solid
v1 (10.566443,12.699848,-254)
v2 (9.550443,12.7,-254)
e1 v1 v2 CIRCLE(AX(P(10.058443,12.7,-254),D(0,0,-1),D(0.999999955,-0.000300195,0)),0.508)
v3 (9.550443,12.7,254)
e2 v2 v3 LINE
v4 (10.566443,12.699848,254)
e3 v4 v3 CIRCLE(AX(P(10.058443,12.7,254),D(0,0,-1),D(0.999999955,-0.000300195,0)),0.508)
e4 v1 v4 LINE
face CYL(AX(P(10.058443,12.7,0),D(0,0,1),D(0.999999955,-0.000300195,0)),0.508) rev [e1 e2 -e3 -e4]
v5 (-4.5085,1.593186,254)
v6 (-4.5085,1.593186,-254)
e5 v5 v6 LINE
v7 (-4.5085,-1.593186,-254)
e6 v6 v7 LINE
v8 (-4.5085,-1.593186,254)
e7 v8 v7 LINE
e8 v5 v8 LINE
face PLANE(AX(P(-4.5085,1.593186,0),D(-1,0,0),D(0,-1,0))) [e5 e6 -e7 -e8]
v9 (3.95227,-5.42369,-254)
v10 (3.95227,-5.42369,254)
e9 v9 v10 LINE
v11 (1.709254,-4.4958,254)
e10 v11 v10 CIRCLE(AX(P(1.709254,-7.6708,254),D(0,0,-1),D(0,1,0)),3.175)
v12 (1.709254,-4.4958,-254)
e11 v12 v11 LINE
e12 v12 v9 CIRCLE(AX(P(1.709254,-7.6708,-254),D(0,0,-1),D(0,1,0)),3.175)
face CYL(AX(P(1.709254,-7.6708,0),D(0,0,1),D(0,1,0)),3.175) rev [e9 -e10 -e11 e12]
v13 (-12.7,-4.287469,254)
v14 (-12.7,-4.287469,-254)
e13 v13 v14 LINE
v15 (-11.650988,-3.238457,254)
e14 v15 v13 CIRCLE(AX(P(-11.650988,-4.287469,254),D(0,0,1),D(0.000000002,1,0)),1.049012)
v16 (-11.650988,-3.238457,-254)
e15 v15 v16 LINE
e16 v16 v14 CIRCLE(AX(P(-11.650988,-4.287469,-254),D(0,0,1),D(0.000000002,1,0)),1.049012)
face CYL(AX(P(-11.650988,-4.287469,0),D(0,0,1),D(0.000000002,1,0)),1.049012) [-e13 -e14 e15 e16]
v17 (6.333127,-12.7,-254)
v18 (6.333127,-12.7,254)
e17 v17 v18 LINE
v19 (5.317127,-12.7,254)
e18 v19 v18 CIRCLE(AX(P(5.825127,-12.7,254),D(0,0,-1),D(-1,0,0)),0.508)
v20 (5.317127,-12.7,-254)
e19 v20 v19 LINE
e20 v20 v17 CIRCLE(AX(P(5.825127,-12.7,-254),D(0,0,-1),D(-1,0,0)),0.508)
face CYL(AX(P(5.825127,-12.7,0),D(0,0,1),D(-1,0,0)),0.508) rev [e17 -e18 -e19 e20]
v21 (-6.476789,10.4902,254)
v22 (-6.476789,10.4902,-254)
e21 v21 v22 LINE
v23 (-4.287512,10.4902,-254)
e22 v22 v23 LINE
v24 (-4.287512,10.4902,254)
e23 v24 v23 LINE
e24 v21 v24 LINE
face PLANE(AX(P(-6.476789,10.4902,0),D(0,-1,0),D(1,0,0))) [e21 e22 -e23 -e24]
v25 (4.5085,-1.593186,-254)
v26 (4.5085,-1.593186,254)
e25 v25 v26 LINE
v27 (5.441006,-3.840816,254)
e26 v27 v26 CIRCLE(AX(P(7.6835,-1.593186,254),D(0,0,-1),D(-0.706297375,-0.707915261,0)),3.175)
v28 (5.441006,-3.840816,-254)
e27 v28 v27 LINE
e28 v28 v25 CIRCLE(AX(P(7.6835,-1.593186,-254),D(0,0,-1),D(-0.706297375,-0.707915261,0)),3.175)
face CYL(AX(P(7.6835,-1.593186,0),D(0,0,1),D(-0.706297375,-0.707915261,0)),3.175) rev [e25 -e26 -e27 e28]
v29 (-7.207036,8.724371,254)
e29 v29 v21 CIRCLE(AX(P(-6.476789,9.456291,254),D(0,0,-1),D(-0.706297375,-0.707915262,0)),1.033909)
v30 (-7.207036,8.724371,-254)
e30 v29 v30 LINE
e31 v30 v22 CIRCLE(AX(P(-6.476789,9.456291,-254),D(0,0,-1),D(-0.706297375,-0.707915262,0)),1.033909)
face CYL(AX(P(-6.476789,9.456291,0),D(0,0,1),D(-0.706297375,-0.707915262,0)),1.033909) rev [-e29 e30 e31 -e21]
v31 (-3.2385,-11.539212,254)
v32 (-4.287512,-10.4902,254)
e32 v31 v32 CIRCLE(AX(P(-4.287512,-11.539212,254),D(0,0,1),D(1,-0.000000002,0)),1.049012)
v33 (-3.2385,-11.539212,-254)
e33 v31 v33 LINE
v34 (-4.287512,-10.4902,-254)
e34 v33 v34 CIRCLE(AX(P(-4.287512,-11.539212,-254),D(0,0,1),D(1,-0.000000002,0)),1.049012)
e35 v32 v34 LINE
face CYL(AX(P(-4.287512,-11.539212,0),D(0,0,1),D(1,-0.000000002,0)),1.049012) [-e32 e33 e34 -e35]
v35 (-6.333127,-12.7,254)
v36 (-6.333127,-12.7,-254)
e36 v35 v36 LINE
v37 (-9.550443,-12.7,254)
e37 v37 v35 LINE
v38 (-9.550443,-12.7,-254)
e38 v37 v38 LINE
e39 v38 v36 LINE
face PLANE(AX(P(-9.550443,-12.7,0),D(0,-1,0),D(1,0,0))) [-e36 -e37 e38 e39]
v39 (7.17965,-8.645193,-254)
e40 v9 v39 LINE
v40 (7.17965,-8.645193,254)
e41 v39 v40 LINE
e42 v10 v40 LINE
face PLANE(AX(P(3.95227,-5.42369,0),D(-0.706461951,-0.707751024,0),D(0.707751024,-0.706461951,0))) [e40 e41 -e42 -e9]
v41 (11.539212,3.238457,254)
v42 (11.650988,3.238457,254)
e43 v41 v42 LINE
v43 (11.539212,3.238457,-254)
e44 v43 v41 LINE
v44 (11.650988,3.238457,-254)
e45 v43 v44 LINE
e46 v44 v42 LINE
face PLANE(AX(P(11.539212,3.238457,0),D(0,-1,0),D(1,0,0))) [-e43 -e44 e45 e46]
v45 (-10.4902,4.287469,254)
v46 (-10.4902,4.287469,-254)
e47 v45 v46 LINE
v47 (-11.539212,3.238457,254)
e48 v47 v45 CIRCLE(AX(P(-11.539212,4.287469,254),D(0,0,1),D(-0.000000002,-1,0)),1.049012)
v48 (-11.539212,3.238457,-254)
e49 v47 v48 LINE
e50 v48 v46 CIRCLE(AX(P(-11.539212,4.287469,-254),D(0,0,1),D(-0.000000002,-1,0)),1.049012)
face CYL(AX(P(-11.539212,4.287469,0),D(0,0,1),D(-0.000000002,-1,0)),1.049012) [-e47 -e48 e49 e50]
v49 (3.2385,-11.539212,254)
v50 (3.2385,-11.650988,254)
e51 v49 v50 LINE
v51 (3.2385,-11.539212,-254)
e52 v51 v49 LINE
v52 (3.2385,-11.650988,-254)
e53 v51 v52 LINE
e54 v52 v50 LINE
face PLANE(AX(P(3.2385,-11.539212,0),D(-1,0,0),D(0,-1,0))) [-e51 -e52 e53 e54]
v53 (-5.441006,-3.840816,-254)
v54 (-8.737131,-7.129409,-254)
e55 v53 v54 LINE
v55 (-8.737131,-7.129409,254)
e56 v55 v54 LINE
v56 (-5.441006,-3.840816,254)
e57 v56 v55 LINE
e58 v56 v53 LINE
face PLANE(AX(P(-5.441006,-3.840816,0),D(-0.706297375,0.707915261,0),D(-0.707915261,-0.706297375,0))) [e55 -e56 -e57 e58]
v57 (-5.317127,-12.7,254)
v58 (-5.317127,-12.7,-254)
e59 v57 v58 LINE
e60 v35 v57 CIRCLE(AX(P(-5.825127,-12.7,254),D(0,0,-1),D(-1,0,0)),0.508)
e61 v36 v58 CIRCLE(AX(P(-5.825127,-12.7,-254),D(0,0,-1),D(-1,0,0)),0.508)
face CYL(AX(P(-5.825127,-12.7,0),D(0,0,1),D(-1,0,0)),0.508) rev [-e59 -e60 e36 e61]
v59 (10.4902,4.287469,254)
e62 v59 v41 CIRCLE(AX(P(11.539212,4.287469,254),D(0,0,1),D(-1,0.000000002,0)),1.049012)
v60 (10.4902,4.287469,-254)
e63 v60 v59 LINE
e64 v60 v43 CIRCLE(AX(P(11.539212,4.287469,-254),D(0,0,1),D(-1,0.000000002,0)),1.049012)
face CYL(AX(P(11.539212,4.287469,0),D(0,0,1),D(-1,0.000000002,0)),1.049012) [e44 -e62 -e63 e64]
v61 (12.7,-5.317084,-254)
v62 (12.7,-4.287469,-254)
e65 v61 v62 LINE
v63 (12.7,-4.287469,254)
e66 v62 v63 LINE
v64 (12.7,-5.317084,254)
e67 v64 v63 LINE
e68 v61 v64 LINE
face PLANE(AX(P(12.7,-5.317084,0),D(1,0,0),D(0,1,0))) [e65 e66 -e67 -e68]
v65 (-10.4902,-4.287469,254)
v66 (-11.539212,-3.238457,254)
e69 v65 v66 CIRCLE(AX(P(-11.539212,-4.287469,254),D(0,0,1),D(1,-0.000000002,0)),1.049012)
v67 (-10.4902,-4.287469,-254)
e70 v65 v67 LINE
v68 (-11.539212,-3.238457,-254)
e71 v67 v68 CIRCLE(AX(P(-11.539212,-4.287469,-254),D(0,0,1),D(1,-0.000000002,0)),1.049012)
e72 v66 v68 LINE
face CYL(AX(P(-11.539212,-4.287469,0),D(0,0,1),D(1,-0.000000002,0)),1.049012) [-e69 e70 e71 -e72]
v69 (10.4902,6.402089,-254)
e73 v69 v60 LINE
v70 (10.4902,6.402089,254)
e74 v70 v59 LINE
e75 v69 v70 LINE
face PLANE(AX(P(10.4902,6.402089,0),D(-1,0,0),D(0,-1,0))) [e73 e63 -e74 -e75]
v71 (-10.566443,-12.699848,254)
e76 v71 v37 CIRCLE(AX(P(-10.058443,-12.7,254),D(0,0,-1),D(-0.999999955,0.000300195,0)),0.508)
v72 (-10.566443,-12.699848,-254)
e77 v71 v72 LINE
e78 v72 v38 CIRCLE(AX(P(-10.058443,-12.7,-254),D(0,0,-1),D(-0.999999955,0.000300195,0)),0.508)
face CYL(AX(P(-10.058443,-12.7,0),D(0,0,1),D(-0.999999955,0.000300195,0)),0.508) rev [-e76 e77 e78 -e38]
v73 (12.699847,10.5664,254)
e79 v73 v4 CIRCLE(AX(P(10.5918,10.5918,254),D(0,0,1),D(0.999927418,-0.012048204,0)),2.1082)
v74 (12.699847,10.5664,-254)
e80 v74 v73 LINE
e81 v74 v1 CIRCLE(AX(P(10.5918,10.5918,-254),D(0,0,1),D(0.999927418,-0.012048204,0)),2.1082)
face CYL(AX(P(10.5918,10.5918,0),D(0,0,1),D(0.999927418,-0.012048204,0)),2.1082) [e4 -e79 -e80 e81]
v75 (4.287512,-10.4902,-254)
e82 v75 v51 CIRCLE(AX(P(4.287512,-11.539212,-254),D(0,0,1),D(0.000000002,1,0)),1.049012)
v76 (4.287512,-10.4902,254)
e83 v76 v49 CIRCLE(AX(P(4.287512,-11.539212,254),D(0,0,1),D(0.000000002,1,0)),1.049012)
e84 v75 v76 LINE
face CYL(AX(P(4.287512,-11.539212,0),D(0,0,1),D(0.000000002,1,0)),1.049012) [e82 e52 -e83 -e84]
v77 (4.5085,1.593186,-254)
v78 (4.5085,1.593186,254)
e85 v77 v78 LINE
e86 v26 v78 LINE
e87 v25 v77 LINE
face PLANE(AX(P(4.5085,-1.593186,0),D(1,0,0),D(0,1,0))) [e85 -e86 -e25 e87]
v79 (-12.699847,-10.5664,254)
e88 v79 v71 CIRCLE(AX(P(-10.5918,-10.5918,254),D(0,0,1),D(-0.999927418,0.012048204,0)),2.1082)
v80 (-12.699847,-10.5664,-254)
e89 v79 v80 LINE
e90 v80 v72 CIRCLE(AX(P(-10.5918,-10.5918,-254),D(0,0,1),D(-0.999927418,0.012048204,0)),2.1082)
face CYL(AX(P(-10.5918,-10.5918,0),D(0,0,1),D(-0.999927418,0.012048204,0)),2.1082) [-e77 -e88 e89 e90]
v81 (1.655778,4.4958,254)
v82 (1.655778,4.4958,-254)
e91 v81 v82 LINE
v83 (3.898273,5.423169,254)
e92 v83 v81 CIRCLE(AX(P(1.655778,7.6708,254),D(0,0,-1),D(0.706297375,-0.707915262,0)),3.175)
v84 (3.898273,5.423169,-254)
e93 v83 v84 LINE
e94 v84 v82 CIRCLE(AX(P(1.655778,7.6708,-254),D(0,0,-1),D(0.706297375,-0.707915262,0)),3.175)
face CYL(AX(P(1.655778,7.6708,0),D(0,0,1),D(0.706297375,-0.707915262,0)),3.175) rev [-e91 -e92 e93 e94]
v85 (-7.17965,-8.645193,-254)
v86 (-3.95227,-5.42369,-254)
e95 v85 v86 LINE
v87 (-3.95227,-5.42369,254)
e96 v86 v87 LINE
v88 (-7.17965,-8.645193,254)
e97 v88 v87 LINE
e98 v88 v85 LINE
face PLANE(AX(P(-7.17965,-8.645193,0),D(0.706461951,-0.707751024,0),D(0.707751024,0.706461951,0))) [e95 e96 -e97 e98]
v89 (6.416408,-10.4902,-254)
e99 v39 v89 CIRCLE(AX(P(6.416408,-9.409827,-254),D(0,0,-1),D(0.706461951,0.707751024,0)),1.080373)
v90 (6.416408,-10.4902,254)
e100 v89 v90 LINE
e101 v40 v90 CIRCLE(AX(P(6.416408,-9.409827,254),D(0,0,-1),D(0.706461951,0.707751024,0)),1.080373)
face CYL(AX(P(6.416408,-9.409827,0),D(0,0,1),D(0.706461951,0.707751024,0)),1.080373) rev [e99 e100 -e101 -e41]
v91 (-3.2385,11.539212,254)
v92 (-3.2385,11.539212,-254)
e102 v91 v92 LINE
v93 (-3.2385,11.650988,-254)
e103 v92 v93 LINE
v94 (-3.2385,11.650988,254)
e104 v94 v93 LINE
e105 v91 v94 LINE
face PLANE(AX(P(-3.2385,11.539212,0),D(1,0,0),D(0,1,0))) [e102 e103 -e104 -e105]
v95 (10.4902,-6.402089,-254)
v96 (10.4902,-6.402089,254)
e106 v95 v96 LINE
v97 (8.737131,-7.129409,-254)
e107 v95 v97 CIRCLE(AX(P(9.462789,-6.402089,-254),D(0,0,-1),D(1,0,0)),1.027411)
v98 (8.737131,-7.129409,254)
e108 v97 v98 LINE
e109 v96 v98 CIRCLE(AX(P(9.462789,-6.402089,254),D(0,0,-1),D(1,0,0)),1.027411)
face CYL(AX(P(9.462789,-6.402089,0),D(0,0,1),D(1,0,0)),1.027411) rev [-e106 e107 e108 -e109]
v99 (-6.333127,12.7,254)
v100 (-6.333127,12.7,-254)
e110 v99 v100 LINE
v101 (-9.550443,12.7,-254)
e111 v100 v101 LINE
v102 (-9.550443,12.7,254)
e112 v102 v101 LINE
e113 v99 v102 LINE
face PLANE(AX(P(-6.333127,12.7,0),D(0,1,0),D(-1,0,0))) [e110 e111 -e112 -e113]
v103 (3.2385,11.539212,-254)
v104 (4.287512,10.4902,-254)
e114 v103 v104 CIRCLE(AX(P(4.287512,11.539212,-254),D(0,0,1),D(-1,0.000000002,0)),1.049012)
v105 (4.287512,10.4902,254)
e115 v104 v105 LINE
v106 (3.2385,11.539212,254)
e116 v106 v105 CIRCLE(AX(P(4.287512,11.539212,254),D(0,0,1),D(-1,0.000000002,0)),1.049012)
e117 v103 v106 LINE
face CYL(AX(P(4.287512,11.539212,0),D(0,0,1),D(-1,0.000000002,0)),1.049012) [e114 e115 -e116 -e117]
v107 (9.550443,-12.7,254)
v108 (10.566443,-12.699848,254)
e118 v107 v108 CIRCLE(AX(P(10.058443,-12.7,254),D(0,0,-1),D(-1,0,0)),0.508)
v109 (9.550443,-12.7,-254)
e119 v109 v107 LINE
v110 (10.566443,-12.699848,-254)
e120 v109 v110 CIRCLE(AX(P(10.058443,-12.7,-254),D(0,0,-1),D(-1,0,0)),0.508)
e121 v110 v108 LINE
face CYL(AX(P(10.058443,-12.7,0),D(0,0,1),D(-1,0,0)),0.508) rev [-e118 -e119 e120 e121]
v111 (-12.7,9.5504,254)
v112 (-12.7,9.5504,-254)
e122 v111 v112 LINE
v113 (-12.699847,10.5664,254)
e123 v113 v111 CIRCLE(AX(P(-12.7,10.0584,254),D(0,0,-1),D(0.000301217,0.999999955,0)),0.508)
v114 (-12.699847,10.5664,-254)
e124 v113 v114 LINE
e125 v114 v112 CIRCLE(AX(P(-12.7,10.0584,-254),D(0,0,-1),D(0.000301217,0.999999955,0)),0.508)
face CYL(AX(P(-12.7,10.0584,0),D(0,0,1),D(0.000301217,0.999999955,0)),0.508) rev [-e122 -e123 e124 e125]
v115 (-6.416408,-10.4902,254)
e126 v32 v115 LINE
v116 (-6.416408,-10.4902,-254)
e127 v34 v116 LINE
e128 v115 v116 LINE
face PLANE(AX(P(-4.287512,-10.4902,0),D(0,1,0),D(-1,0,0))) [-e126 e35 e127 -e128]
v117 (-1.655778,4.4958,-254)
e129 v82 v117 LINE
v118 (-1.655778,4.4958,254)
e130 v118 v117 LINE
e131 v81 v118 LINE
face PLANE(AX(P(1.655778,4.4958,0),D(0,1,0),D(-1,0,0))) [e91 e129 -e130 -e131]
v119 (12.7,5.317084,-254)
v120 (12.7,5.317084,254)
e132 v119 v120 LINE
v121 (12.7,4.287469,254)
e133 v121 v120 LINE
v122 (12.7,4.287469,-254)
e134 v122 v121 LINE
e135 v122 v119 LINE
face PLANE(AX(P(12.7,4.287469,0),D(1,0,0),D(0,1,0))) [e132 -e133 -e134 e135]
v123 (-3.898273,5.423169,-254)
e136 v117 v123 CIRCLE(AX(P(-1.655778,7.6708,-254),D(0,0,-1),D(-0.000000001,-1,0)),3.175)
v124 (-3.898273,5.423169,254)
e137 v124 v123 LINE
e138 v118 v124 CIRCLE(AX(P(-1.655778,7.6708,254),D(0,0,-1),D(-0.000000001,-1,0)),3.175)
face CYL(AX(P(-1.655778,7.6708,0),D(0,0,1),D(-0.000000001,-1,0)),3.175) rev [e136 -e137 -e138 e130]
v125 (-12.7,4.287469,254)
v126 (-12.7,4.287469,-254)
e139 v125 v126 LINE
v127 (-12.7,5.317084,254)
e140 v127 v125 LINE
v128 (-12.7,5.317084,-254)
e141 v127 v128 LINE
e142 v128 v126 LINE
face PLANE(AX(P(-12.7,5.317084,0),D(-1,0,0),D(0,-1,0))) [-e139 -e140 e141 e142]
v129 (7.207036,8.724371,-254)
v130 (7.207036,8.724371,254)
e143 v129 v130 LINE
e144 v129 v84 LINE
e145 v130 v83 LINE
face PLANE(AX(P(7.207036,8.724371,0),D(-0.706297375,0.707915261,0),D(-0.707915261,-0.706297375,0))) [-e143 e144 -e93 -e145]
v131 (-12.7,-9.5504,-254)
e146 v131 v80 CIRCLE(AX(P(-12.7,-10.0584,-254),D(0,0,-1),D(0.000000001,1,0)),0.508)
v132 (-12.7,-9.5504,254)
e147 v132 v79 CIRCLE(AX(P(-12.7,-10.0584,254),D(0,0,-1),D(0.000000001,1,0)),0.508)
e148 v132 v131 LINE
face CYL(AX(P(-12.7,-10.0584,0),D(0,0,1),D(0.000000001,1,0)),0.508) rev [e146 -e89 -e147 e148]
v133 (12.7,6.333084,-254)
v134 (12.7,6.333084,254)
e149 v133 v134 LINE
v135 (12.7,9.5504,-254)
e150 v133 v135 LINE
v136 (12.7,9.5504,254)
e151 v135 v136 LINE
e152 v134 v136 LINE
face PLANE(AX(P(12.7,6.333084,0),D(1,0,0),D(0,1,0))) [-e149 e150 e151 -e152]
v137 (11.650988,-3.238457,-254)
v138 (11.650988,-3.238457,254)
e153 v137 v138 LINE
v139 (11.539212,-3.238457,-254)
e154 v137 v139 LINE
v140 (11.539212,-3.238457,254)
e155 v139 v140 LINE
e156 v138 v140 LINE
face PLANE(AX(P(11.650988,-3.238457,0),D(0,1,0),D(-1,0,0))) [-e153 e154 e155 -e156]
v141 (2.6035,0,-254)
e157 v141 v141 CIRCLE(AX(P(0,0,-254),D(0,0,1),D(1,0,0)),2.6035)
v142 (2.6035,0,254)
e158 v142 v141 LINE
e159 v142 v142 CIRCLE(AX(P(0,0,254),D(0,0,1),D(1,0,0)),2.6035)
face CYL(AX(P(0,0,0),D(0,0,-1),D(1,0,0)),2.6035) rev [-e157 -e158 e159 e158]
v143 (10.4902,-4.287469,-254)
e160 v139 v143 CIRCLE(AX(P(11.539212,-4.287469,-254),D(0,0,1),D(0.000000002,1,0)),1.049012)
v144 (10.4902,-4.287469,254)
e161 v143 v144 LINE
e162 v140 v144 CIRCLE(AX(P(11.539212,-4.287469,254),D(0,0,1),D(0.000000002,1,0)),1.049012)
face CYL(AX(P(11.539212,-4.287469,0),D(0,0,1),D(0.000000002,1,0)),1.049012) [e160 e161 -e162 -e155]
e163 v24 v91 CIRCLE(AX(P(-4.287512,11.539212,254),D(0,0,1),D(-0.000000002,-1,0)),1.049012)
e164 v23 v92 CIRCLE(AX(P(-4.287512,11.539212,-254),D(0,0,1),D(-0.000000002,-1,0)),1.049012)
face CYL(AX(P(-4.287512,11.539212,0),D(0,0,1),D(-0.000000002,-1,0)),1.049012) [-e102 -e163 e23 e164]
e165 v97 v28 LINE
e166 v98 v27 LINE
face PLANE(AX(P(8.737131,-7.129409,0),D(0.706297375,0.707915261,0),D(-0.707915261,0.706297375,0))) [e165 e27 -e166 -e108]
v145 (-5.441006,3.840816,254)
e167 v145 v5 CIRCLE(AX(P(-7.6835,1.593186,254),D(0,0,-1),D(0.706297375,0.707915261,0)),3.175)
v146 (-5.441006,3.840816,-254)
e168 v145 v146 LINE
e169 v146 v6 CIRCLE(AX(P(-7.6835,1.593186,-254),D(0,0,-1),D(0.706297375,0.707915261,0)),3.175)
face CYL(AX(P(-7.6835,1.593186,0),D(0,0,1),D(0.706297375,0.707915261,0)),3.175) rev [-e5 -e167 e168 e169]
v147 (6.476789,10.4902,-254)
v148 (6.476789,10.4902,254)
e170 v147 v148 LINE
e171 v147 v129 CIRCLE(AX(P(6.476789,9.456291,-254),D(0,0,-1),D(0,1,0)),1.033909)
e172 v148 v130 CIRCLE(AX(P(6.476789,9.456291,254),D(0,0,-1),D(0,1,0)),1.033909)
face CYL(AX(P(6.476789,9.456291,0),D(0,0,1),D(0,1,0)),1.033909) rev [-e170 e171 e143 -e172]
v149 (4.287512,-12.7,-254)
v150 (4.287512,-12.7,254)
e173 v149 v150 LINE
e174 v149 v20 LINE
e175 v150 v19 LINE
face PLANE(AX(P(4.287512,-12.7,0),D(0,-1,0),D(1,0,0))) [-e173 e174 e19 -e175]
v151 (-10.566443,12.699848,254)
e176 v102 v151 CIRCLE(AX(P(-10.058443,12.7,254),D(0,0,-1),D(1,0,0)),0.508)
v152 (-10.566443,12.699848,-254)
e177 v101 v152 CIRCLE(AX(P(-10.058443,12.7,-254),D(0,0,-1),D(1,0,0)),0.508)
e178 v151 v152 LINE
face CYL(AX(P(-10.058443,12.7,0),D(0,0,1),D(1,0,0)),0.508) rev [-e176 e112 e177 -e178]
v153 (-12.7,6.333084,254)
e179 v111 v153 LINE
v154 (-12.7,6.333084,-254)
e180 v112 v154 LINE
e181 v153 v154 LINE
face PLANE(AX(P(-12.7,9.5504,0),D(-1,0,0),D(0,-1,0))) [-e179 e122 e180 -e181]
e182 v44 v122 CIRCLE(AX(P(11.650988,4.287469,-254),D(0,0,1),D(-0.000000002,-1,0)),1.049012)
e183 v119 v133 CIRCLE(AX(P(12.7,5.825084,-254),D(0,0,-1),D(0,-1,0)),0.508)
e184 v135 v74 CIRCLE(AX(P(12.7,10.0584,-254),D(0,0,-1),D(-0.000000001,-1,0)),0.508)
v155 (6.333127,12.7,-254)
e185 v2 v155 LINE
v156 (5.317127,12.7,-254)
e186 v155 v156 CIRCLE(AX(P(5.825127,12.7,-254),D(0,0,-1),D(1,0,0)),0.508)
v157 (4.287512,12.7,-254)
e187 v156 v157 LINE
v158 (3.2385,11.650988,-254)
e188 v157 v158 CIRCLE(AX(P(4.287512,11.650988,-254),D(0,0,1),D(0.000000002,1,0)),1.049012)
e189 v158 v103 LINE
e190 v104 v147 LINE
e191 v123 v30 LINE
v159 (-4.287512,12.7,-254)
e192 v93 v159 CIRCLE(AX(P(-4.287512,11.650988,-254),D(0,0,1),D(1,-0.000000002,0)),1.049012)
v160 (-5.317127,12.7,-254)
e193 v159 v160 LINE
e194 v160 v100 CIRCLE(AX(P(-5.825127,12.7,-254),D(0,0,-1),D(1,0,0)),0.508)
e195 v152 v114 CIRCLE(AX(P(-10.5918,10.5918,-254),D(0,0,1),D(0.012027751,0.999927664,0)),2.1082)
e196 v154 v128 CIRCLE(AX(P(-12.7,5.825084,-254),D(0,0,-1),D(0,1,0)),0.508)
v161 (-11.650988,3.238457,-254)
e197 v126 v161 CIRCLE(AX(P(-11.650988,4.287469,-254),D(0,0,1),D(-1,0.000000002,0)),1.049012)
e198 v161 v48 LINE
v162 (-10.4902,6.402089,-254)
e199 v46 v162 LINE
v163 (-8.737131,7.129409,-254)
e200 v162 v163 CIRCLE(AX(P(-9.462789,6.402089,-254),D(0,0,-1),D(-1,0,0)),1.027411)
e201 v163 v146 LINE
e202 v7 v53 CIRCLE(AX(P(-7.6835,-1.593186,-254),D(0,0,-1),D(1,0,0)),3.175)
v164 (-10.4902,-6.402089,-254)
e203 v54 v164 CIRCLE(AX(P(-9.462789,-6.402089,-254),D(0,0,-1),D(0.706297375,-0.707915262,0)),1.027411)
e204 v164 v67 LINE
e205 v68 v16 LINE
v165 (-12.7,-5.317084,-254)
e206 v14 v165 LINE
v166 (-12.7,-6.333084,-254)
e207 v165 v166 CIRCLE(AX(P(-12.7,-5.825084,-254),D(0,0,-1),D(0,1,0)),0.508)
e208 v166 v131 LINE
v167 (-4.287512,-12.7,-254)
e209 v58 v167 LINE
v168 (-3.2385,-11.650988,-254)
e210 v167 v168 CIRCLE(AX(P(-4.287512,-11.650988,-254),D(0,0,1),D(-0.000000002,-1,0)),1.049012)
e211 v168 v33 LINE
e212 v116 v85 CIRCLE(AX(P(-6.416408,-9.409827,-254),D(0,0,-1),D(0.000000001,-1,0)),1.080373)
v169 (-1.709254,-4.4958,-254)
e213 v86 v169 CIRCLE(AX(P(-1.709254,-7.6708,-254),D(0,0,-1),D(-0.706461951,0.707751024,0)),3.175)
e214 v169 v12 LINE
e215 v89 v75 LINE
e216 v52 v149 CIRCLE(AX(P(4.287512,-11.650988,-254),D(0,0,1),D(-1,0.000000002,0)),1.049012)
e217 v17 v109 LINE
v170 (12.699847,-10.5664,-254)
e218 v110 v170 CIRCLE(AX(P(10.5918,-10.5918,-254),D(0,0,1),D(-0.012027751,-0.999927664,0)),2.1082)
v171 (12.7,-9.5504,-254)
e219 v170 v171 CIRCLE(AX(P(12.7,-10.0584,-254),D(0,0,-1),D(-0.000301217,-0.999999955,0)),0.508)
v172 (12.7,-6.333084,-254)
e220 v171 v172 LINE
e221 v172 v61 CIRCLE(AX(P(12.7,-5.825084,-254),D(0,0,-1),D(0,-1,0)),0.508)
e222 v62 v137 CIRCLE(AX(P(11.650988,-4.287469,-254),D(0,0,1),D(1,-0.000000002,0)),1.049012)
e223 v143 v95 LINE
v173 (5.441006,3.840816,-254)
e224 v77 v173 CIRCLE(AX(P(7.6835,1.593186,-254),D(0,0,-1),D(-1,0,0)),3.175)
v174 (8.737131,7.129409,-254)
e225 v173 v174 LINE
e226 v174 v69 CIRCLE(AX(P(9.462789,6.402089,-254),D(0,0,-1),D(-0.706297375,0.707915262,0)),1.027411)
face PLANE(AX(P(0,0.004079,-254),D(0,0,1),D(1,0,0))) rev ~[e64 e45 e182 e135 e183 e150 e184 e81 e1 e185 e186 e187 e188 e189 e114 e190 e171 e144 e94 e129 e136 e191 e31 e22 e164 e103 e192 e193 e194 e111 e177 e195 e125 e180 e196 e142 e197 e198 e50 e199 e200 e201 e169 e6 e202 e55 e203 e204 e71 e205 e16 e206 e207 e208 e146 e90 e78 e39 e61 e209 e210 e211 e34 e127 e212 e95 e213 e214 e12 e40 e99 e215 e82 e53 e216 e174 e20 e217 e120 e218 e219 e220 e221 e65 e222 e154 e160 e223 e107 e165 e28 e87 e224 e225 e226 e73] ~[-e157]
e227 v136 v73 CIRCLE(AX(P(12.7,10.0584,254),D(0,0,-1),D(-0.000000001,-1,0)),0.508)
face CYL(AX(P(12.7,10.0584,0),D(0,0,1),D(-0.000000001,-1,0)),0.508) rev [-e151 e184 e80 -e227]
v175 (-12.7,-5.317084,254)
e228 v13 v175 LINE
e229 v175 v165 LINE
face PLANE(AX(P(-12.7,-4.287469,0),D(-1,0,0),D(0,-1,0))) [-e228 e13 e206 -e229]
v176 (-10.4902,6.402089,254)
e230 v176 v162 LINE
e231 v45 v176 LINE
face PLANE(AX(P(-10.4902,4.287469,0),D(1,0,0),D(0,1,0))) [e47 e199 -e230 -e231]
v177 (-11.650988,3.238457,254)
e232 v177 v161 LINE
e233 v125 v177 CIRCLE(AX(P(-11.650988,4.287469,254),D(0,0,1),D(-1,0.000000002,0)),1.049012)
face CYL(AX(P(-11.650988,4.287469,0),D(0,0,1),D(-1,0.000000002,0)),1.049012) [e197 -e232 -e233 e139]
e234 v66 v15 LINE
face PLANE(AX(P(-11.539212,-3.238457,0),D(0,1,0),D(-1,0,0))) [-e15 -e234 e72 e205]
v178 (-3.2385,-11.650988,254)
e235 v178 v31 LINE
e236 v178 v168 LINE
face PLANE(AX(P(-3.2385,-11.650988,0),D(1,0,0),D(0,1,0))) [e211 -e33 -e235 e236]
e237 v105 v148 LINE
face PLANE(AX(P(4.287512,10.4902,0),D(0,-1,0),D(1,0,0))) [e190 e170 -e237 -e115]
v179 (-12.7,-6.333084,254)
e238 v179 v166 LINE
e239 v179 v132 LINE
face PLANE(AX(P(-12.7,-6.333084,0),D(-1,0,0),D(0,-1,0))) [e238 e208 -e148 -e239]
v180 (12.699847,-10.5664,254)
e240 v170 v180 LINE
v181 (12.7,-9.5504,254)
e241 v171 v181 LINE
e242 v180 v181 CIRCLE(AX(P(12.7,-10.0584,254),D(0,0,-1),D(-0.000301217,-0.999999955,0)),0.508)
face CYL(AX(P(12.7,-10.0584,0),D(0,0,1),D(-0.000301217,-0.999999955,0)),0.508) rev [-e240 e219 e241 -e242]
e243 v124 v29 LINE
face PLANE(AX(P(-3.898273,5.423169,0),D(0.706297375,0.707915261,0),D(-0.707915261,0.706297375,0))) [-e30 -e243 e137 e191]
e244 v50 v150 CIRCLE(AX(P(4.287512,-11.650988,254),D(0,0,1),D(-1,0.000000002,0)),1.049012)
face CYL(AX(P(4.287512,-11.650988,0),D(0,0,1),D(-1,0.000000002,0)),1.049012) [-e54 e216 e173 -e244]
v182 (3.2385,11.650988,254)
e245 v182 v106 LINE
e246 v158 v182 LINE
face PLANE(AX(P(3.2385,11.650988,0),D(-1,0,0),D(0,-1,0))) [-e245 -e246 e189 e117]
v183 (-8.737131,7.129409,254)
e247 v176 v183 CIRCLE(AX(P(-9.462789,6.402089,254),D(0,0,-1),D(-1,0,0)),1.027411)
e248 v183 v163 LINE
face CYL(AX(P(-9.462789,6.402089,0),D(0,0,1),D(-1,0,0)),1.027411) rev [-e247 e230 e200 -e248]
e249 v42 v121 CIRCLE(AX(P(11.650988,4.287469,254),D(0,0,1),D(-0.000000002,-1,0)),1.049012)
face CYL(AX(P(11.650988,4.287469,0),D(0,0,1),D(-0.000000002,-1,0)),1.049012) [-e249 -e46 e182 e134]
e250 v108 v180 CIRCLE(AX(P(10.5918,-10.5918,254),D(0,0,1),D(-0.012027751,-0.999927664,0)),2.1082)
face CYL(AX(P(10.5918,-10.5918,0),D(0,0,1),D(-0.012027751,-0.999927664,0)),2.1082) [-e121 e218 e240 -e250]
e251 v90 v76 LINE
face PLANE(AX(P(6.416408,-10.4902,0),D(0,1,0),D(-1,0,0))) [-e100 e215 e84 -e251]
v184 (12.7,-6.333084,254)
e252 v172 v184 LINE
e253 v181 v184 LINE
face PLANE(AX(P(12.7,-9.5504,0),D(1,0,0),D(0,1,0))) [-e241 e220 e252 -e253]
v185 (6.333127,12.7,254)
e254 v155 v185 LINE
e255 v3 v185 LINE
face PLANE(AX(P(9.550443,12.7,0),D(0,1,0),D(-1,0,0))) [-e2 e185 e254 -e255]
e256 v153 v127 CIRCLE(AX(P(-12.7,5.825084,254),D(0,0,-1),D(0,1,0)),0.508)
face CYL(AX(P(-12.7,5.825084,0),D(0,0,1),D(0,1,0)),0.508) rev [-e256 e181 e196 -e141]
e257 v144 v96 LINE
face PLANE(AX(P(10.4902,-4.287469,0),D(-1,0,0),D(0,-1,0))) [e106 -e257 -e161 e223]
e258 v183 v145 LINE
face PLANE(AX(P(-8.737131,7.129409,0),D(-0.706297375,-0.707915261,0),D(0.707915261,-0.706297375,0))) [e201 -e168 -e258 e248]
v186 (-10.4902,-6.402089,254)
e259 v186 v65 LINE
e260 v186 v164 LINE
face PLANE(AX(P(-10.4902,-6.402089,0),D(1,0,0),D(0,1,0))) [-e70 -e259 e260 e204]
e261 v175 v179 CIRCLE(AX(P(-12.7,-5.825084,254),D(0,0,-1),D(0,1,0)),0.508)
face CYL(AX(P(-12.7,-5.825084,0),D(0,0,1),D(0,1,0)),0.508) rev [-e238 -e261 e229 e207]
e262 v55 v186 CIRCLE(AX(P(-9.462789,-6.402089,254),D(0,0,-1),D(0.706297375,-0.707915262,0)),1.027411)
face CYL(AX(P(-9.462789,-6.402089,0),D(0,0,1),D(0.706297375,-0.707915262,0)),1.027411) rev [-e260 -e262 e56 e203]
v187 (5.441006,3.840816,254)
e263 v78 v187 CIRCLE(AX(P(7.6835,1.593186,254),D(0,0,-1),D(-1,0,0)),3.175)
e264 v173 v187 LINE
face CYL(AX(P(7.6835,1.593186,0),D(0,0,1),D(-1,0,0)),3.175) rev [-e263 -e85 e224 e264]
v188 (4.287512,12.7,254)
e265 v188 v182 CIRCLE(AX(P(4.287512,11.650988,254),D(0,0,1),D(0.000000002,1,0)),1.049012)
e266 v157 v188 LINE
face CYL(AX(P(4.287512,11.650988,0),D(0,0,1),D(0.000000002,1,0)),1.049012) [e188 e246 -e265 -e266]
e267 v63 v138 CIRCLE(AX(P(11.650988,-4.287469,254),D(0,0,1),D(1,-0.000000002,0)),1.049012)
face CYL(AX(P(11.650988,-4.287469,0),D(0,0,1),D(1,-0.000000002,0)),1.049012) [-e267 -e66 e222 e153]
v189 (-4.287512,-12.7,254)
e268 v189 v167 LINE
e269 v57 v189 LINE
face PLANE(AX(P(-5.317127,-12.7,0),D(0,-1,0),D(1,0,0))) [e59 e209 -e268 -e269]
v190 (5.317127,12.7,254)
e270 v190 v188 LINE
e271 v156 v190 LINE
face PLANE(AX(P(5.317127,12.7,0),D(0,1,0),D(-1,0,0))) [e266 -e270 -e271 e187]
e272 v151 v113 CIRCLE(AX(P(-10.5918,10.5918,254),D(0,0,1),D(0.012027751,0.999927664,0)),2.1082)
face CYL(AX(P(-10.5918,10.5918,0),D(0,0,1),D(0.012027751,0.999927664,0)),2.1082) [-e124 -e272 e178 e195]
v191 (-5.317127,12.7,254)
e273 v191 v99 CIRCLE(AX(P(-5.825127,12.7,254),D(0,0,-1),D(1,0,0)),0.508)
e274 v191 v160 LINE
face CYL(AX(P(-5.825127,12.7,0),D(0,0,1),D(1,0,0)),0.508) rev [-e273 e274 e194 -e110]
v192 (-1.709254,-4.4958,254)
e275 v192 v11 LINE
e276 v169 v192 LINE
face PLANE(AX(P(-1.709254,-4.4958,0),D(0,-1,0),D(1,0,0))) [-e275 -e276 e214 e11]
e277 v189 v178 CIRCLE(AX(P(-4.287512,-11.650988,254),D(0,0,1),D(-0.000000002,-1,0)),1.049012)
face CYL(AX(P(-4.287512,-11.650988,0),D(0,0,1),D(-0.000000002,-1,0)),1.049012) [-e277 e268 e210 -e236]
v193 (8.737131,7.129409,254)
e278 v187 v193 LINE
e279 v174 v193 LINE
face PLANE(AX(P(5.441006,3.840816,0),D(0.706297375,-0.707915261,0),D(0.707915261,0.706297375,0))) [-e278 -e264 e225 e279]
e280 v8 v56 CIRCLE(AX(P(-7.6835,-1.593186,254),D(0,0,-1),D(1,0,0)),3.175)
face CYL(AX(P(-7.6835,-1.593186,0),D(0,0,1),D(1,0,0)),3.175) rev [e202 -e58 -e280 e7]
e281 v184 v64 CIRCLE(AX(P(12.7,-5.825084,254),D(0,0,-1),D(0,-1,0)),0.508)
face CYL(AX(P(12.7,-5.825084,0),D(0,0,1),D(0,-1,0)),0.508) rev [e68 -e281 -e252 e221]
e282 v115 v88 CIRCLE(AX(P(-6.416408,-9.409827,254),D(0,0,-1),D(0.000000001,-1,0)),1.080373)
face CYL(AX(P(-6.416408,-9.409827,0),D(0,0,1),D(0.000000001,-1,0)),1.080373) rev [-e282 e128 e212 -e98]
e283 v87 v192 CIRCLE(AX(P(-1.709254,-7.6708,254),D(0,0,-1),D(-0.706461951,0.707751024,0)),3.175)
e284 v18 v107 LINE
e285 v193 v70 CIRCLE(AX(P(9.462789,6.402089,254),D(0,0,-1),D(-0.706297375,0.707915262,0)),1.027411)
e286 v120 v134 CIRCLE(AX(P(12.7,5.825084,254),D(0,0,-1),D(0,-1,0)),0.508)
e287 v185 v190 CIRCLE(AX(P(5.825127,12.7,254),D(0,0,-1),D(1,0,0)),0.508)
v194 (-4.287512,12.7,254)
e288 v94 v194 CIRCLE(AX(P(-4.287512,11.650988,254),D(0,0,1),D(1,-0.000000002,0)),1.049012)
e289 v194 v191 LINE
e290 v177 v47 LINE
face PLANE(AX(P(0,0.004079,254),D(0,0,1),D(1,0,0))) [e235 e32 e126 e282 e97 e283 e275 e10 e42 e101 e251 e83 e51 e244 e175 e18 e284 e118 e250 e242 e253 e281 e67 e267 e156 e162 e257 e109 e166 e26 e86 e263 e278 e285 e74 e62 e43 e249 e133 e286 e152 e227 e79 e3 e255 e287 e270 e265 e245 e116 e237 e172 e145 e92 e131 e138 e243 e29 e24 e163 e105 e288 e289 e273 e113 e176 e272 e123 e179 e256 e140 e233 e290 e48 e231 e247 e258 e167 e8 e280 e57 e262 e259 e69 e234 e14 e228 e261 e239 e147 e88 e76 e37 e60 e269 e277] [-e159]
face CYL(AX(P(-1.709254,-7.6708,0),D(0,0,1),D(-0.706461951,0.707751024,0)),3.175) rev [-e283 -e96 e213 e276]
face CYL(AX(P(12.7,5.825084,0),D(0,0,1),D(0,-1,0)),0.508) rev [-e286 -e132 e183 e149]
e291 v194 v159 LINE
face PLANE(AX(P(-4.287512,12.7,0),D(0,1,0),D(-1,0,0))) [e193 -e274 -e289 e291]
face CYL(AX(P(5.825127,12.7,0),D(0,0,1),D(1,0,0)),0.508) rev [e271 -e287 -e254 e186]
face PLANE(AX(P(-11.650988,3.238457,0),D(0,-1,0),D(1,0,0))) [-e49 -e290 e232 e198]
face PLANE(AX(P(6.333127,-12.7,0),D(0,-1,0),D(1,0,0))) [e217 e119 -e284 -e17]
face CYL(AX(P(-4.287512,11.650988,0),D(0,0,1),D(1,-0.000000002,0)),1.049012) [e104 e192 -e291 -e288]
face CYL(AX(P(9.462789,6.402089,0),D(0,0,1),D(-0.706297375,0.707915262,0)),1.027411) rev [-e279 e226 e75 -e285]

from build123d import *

# Parameters (mm, degrees)
SKETCH1_R           = 2.6035
BOSS_EXTRUDE1_DEPTH = 254


with BuildPart() as part:
    # Sketch1 → Boss-Extrude1 (new body, symmetric)
    with BuildSketch(Plane.XY):
        with BuildLine():
            Line((-7.179650497, -8.645192506), (-3.952270251, -5.423690499))
            ThreePointArc((-3.952270251, -5.423690499), (-2.922936451, -4.736929036), (-1.709253557, -4.4958))
            Line((-1.709253557, -4.4958), (1.709253557, -4.4958))
            ThreePointArc((1.709253557, -4.4958), (2.922936451, -4.736929036), (3.952270251, -5.423690499))
            Line((3.952270251, -5.423690499), (7.179650497, -8.645192506))
            ThreePointArc((7.179650497, -8.645192506), (7.41473083, -9.822813117), (6.416408329, -10.4902))
            Line((6.416408329, -10.4902), (4.287512407, -10.4902))
            ThreePointArc((4.287512407, -10.4902), (3.54574862, -10.79744862), (3.2385, -11.539212407))
            Line((3.2385, -11.539212407), (3.2385, -11.650987593))
            ThreePointArc((3.2385, -11.650987593), (3.54574862, -12.39275138), (4.287512407, -12.7))
            Line((4.287512407, -12.7), (5.317126718, -12.7))
            ThreePointArc((5.317126718, -12.7), (5.825126718, -12.192), (6.333126718, -12.7))
            Line((6.333126718, -12.7), (9.550443118, -12.7))
            ThreePointArc((9.550443118, -12.7), (10.058366869, -12.192000006), (10.566443095, -12.699847501))
            ThreePointArc((10.566443095, -12.699847501), (12.082537762, -12.08250727), (12.699846982, -10.566399977))
            ThreePointArc((12.699846982, -10.566399977), (12.192000006, -10.058323491), (12.7, -9.5504))
            Line((12.7, -9.5504), (12.7, -6.3330836))
            ThreePointArc((12.7, -6.3330836), (12.192, -5.8250836), (12.7, -5.3170836))
            Line((12.7, -5.3170836), (12.7, -4.287469289))
            ThreePointArc((12.7, -4.287469289), (12.39275138, -3.545705502), (11.650987593, -3.238456882))
            Line((11.650987593, -3.238456882), (11.539212407, -3.238456882))
            ThreePointArc((11.539212407, -3.238456882), (10.79744862, -3.545705502), (10.4902, -4.287469289))
            Line((10.4902, -4.287469289), (10.4902, -6.402089023))
            ThreePointArc((10.4902, -6.402089023), (9.856505071, -7.351067942), (8.737131347, -7.129408934))
            Line((8.737131347, -7.129408934), (5.441005833, -3.840816462))
            ThreePointArc((5.441005833, -3.840816462), (4.750877967, -2.809883091), (4.5085, -1.593185507))
            Line((4.5085, -1.593185507), (4.5085, 1.593185507))
            ThreePointArc((4.5085, 1.593185507), (4.750877967, 2.809883091), (5.441005833, 3.840816462))
            Line((5.441005833, 3.840816462), (8.737131347, 7.129408934))
            ThreePointArc((8.737131347, 7.129408934), (9.856505071, 7.351067942), (10.4902, 6.402089023))
            Line((10.4902, 6.402089023), (10.4902, 4.287469289))
            ThreePointArc((10.4902, 4.287469289), (10.79744862, 3.545705502), (11.539212407, 3.238456882))
            Line((11.539212407, 3.238456882), (11.650987593, 3.238456882))
            ThreePointArc((11.650987593, 3.238456882), (12.39275138, 3.545705502), (12.7, 4.287469289))
            Line((12.7, 4.287469289), (12.7, 5.3170836))
            ThreePointArc((12.7, 5.3170836), (12.192, 5.8250836), (12.7, 6.3330836))
            Line((12.7, 6.3330836), (12.7, 9.5504))
            ThreePointArc((12.7, 9.5504), (12.192000006, 10.058323491), (12.699846982, 10.566399977))
            ThreePointArc((12.699846982, 10.566399977), (12.082537762, 12.08250727), (10.566443095, 12.699847501))
            ThreePointArc((10.566443095, 12.699847501), (10.058366869, 12.192000006), (9.550443118, 12.7))
            Line((9.550443118, 12.7), (6.333126718, 12.7))
            ThreePointArc((6.333126718, 12.7), (5.825126718, 12.192), (5.317126718, 12.7))
            Line((5.317126718, 12.7), (4.287512407, 12.7))
            ThreePointArc((4.287512407, 12.7), (3.54574862, 12.39275138), (3.2385, 11.650987593))
            Line((3.2385, 11.650987593), (3.2385, 11.539212407))
            ThreePointArc((3.2385, 11.539212407), (3.54574862, 10.79744862), (4.287512407, 10.4902))
            Line((4.287512407, 10.4902), (6.476788598, 10.4902))
            ThreePointArc((6.476788598, 10.4902), (7.432222385, 9.85140422), (7.207036008, 8.724370562))
            Line((7.207036008, 8.724370562), (3.898272566, 5.423169045))
            ThreePointArc((3.898272566, 5.423169045), (2.869120213, 4.736787962), (1.655778399, 4.4958))
            Line((1.655778399, 4.4958), (-1.655778399, 4.4958))
            ThreePointArc((-1.655778399, 4.4958), (-2.869120213, 4.736787962), (-3.898272566, 5.423169045))
            Line((-3.898272566, 5.423169045), (-7.207036008, 8.724370562))
            ThreePointArc((-7.207036008, 8.724370562), (-7.432222385, 9.85140422), (-6.476788598, 10.4902))
            Line((-6.476788598, 10.4902), (-4.287512407, 10.4902))
            ThreePointArc((-4.287512407, 10.4902), (-3.54574862, 10.79744862), (-3.2385, 11.539212407))
            Line((-3.2385, 11.539212407), (-3.2385, 11.650987593))
            ThreePointArc((-3.2385, 11.650987593), (-3.54574862, 12.39275138), (-4.287512407, 12.7))
            Line((-4.287512407, 12.7), (-5.317126718, 12.7))
            ThreePointArc((-5.317126718, 12.7), (-5.825126718, 12.192), (-6.333126718, 12.7))
            Line((-6.333126718, 12.7), (-9.550443118, 12.7))
            ThreePointArc((-9.550443118, 12.7), (-10.058366869, 12.192000006), (-10.566443095, 12.699847501))
            ThreePointArc((-10.566443095, 12.699847501), (-12.082537762, 12.08250727), (-12.699846982, 10.566399977))
            ThreePointArc((-12.699846982, 10.566399977), (-12.192000006, 10.058323491), (-12.7, 9.5504))
            Line((-12.7, 9.5504), (-12.7, 6.3330836))
            ThreePointArc((-12.7, 6.3330836), (-12.192, 5.8250836), (-12.7, 5.3170836))
            Line((-12.7, 5.3170836), (-12.7, 4.287469289))
            ThreePointArc((-12.7, 4.287469289), (-12.39275138, 3.545705502), (-11.650987593, 3.238456882))
            Line((-11.650987593, 3.238456882), (-11.539212407, 3.238456882))
            ThreePointArc((-11.539212407, 3.238456882), (-10.79744862, 3.545705502), (-10.4902, 4.287469289))
            Line((-10.4902, 4.287469289), (-10.4902, 6.402089023))
            ThreePointArc((-10.4902, 6.402089023), (-9.856505071, 7.351067942), (-8.737131347, 7.129408934))
            Line((-8.737131347, 7.129408934), (-5.441005833, 3.840816462))
            ThreePointArc((-5.441005833, 3.840816462), (-4.750877967, 2.809883091), (-4.5085, 1.593185507))
            Line((-4.5085, 1.593185507), (-4.5085, -1.593185507))
            ThreePointArc((-4.5085, -1.593185507), (-4.750877967, -2.809883091), (-5.441005833, -3.840816462))
            Line((-5.441005833, -3.840816462), (-8.737131347, -7.129408934))
            ThreePointArc((-8.737131347, -7.129408934), (-9.856505071, -7.351067942), (-10.4902, -6.402089023))
            Line((-10.4902, -6.402089023), (-10.4902, -4.287469289))
            ThreePointArc((-10.4902, -4.287469289), (-10.79744862, -3.545705502), (-11.539212407, -3.238456882))
            Line((-11.539212407, -3.238456882), (-11.650987593, -3.238456882))
            ThreePointArc((-11.650987593, -3.238456882), (-12.39275138, -3.545705502), (-12.7, -4.287469289))
            Line((-12.7, -4.287469289), (-12.7, -5.3170836))
            ThreePointArc((-12.7, -5.3170836), (-12.192, -5.8250836), (-12.7, -6.3330836))
            Line((-12.7, -6.3330836), (-12.7, -9.5504))
            ThreePointArc((-12.7, -9.5504), (-12.192000006, -10.058323491), (-12.699846982, -10.566399977))
            ThreePointArc((-12.699846982, -10.566399977), (-12.082537762, -12.08250727), (-10.566443095, -12.699847501))
            ThreePointArc((-10.566443095, -12.699847501), (-10.058366869, -12.192000006), (-9.550443118, -12.7))
            Line((-9.550443118, -12.7), (-6.333126718, -12.7))
            ThreePointArc((-6.333126718, -12.7), (-5.825126718, -12.192), (-5.317126718, -12.7))
            Line((-5.317126718, -12.7), (-4.287512407, -12.7))
            ThreePointArc((-4.287512407, -12.7), (-3.54574862, -12.39275138), (-3.2385, -11.650987593))
            Line((-3.2385, -11.650987593), (-3.2385, -11.539212407))
            ThreePointArc((-3.2385, -11.539212407), (-3.54574862, -10.79744862), (-4.287512407, -10.4902))
            Line((-4.287512407, -10.4902), (-6.416408329, -10.4902))
            ThreePointArc((-6.416408329, -10.4902), (-7.41473083, -9.822813117), (-7.179650497, -8.645192506))
        make_face()
        Circle(SKETCH1_R, mode=Mode.SUBTRACT)
    extrude(amount=BOSS_EXTRUDE1_DEPTH, both=True)


solid = part.part
